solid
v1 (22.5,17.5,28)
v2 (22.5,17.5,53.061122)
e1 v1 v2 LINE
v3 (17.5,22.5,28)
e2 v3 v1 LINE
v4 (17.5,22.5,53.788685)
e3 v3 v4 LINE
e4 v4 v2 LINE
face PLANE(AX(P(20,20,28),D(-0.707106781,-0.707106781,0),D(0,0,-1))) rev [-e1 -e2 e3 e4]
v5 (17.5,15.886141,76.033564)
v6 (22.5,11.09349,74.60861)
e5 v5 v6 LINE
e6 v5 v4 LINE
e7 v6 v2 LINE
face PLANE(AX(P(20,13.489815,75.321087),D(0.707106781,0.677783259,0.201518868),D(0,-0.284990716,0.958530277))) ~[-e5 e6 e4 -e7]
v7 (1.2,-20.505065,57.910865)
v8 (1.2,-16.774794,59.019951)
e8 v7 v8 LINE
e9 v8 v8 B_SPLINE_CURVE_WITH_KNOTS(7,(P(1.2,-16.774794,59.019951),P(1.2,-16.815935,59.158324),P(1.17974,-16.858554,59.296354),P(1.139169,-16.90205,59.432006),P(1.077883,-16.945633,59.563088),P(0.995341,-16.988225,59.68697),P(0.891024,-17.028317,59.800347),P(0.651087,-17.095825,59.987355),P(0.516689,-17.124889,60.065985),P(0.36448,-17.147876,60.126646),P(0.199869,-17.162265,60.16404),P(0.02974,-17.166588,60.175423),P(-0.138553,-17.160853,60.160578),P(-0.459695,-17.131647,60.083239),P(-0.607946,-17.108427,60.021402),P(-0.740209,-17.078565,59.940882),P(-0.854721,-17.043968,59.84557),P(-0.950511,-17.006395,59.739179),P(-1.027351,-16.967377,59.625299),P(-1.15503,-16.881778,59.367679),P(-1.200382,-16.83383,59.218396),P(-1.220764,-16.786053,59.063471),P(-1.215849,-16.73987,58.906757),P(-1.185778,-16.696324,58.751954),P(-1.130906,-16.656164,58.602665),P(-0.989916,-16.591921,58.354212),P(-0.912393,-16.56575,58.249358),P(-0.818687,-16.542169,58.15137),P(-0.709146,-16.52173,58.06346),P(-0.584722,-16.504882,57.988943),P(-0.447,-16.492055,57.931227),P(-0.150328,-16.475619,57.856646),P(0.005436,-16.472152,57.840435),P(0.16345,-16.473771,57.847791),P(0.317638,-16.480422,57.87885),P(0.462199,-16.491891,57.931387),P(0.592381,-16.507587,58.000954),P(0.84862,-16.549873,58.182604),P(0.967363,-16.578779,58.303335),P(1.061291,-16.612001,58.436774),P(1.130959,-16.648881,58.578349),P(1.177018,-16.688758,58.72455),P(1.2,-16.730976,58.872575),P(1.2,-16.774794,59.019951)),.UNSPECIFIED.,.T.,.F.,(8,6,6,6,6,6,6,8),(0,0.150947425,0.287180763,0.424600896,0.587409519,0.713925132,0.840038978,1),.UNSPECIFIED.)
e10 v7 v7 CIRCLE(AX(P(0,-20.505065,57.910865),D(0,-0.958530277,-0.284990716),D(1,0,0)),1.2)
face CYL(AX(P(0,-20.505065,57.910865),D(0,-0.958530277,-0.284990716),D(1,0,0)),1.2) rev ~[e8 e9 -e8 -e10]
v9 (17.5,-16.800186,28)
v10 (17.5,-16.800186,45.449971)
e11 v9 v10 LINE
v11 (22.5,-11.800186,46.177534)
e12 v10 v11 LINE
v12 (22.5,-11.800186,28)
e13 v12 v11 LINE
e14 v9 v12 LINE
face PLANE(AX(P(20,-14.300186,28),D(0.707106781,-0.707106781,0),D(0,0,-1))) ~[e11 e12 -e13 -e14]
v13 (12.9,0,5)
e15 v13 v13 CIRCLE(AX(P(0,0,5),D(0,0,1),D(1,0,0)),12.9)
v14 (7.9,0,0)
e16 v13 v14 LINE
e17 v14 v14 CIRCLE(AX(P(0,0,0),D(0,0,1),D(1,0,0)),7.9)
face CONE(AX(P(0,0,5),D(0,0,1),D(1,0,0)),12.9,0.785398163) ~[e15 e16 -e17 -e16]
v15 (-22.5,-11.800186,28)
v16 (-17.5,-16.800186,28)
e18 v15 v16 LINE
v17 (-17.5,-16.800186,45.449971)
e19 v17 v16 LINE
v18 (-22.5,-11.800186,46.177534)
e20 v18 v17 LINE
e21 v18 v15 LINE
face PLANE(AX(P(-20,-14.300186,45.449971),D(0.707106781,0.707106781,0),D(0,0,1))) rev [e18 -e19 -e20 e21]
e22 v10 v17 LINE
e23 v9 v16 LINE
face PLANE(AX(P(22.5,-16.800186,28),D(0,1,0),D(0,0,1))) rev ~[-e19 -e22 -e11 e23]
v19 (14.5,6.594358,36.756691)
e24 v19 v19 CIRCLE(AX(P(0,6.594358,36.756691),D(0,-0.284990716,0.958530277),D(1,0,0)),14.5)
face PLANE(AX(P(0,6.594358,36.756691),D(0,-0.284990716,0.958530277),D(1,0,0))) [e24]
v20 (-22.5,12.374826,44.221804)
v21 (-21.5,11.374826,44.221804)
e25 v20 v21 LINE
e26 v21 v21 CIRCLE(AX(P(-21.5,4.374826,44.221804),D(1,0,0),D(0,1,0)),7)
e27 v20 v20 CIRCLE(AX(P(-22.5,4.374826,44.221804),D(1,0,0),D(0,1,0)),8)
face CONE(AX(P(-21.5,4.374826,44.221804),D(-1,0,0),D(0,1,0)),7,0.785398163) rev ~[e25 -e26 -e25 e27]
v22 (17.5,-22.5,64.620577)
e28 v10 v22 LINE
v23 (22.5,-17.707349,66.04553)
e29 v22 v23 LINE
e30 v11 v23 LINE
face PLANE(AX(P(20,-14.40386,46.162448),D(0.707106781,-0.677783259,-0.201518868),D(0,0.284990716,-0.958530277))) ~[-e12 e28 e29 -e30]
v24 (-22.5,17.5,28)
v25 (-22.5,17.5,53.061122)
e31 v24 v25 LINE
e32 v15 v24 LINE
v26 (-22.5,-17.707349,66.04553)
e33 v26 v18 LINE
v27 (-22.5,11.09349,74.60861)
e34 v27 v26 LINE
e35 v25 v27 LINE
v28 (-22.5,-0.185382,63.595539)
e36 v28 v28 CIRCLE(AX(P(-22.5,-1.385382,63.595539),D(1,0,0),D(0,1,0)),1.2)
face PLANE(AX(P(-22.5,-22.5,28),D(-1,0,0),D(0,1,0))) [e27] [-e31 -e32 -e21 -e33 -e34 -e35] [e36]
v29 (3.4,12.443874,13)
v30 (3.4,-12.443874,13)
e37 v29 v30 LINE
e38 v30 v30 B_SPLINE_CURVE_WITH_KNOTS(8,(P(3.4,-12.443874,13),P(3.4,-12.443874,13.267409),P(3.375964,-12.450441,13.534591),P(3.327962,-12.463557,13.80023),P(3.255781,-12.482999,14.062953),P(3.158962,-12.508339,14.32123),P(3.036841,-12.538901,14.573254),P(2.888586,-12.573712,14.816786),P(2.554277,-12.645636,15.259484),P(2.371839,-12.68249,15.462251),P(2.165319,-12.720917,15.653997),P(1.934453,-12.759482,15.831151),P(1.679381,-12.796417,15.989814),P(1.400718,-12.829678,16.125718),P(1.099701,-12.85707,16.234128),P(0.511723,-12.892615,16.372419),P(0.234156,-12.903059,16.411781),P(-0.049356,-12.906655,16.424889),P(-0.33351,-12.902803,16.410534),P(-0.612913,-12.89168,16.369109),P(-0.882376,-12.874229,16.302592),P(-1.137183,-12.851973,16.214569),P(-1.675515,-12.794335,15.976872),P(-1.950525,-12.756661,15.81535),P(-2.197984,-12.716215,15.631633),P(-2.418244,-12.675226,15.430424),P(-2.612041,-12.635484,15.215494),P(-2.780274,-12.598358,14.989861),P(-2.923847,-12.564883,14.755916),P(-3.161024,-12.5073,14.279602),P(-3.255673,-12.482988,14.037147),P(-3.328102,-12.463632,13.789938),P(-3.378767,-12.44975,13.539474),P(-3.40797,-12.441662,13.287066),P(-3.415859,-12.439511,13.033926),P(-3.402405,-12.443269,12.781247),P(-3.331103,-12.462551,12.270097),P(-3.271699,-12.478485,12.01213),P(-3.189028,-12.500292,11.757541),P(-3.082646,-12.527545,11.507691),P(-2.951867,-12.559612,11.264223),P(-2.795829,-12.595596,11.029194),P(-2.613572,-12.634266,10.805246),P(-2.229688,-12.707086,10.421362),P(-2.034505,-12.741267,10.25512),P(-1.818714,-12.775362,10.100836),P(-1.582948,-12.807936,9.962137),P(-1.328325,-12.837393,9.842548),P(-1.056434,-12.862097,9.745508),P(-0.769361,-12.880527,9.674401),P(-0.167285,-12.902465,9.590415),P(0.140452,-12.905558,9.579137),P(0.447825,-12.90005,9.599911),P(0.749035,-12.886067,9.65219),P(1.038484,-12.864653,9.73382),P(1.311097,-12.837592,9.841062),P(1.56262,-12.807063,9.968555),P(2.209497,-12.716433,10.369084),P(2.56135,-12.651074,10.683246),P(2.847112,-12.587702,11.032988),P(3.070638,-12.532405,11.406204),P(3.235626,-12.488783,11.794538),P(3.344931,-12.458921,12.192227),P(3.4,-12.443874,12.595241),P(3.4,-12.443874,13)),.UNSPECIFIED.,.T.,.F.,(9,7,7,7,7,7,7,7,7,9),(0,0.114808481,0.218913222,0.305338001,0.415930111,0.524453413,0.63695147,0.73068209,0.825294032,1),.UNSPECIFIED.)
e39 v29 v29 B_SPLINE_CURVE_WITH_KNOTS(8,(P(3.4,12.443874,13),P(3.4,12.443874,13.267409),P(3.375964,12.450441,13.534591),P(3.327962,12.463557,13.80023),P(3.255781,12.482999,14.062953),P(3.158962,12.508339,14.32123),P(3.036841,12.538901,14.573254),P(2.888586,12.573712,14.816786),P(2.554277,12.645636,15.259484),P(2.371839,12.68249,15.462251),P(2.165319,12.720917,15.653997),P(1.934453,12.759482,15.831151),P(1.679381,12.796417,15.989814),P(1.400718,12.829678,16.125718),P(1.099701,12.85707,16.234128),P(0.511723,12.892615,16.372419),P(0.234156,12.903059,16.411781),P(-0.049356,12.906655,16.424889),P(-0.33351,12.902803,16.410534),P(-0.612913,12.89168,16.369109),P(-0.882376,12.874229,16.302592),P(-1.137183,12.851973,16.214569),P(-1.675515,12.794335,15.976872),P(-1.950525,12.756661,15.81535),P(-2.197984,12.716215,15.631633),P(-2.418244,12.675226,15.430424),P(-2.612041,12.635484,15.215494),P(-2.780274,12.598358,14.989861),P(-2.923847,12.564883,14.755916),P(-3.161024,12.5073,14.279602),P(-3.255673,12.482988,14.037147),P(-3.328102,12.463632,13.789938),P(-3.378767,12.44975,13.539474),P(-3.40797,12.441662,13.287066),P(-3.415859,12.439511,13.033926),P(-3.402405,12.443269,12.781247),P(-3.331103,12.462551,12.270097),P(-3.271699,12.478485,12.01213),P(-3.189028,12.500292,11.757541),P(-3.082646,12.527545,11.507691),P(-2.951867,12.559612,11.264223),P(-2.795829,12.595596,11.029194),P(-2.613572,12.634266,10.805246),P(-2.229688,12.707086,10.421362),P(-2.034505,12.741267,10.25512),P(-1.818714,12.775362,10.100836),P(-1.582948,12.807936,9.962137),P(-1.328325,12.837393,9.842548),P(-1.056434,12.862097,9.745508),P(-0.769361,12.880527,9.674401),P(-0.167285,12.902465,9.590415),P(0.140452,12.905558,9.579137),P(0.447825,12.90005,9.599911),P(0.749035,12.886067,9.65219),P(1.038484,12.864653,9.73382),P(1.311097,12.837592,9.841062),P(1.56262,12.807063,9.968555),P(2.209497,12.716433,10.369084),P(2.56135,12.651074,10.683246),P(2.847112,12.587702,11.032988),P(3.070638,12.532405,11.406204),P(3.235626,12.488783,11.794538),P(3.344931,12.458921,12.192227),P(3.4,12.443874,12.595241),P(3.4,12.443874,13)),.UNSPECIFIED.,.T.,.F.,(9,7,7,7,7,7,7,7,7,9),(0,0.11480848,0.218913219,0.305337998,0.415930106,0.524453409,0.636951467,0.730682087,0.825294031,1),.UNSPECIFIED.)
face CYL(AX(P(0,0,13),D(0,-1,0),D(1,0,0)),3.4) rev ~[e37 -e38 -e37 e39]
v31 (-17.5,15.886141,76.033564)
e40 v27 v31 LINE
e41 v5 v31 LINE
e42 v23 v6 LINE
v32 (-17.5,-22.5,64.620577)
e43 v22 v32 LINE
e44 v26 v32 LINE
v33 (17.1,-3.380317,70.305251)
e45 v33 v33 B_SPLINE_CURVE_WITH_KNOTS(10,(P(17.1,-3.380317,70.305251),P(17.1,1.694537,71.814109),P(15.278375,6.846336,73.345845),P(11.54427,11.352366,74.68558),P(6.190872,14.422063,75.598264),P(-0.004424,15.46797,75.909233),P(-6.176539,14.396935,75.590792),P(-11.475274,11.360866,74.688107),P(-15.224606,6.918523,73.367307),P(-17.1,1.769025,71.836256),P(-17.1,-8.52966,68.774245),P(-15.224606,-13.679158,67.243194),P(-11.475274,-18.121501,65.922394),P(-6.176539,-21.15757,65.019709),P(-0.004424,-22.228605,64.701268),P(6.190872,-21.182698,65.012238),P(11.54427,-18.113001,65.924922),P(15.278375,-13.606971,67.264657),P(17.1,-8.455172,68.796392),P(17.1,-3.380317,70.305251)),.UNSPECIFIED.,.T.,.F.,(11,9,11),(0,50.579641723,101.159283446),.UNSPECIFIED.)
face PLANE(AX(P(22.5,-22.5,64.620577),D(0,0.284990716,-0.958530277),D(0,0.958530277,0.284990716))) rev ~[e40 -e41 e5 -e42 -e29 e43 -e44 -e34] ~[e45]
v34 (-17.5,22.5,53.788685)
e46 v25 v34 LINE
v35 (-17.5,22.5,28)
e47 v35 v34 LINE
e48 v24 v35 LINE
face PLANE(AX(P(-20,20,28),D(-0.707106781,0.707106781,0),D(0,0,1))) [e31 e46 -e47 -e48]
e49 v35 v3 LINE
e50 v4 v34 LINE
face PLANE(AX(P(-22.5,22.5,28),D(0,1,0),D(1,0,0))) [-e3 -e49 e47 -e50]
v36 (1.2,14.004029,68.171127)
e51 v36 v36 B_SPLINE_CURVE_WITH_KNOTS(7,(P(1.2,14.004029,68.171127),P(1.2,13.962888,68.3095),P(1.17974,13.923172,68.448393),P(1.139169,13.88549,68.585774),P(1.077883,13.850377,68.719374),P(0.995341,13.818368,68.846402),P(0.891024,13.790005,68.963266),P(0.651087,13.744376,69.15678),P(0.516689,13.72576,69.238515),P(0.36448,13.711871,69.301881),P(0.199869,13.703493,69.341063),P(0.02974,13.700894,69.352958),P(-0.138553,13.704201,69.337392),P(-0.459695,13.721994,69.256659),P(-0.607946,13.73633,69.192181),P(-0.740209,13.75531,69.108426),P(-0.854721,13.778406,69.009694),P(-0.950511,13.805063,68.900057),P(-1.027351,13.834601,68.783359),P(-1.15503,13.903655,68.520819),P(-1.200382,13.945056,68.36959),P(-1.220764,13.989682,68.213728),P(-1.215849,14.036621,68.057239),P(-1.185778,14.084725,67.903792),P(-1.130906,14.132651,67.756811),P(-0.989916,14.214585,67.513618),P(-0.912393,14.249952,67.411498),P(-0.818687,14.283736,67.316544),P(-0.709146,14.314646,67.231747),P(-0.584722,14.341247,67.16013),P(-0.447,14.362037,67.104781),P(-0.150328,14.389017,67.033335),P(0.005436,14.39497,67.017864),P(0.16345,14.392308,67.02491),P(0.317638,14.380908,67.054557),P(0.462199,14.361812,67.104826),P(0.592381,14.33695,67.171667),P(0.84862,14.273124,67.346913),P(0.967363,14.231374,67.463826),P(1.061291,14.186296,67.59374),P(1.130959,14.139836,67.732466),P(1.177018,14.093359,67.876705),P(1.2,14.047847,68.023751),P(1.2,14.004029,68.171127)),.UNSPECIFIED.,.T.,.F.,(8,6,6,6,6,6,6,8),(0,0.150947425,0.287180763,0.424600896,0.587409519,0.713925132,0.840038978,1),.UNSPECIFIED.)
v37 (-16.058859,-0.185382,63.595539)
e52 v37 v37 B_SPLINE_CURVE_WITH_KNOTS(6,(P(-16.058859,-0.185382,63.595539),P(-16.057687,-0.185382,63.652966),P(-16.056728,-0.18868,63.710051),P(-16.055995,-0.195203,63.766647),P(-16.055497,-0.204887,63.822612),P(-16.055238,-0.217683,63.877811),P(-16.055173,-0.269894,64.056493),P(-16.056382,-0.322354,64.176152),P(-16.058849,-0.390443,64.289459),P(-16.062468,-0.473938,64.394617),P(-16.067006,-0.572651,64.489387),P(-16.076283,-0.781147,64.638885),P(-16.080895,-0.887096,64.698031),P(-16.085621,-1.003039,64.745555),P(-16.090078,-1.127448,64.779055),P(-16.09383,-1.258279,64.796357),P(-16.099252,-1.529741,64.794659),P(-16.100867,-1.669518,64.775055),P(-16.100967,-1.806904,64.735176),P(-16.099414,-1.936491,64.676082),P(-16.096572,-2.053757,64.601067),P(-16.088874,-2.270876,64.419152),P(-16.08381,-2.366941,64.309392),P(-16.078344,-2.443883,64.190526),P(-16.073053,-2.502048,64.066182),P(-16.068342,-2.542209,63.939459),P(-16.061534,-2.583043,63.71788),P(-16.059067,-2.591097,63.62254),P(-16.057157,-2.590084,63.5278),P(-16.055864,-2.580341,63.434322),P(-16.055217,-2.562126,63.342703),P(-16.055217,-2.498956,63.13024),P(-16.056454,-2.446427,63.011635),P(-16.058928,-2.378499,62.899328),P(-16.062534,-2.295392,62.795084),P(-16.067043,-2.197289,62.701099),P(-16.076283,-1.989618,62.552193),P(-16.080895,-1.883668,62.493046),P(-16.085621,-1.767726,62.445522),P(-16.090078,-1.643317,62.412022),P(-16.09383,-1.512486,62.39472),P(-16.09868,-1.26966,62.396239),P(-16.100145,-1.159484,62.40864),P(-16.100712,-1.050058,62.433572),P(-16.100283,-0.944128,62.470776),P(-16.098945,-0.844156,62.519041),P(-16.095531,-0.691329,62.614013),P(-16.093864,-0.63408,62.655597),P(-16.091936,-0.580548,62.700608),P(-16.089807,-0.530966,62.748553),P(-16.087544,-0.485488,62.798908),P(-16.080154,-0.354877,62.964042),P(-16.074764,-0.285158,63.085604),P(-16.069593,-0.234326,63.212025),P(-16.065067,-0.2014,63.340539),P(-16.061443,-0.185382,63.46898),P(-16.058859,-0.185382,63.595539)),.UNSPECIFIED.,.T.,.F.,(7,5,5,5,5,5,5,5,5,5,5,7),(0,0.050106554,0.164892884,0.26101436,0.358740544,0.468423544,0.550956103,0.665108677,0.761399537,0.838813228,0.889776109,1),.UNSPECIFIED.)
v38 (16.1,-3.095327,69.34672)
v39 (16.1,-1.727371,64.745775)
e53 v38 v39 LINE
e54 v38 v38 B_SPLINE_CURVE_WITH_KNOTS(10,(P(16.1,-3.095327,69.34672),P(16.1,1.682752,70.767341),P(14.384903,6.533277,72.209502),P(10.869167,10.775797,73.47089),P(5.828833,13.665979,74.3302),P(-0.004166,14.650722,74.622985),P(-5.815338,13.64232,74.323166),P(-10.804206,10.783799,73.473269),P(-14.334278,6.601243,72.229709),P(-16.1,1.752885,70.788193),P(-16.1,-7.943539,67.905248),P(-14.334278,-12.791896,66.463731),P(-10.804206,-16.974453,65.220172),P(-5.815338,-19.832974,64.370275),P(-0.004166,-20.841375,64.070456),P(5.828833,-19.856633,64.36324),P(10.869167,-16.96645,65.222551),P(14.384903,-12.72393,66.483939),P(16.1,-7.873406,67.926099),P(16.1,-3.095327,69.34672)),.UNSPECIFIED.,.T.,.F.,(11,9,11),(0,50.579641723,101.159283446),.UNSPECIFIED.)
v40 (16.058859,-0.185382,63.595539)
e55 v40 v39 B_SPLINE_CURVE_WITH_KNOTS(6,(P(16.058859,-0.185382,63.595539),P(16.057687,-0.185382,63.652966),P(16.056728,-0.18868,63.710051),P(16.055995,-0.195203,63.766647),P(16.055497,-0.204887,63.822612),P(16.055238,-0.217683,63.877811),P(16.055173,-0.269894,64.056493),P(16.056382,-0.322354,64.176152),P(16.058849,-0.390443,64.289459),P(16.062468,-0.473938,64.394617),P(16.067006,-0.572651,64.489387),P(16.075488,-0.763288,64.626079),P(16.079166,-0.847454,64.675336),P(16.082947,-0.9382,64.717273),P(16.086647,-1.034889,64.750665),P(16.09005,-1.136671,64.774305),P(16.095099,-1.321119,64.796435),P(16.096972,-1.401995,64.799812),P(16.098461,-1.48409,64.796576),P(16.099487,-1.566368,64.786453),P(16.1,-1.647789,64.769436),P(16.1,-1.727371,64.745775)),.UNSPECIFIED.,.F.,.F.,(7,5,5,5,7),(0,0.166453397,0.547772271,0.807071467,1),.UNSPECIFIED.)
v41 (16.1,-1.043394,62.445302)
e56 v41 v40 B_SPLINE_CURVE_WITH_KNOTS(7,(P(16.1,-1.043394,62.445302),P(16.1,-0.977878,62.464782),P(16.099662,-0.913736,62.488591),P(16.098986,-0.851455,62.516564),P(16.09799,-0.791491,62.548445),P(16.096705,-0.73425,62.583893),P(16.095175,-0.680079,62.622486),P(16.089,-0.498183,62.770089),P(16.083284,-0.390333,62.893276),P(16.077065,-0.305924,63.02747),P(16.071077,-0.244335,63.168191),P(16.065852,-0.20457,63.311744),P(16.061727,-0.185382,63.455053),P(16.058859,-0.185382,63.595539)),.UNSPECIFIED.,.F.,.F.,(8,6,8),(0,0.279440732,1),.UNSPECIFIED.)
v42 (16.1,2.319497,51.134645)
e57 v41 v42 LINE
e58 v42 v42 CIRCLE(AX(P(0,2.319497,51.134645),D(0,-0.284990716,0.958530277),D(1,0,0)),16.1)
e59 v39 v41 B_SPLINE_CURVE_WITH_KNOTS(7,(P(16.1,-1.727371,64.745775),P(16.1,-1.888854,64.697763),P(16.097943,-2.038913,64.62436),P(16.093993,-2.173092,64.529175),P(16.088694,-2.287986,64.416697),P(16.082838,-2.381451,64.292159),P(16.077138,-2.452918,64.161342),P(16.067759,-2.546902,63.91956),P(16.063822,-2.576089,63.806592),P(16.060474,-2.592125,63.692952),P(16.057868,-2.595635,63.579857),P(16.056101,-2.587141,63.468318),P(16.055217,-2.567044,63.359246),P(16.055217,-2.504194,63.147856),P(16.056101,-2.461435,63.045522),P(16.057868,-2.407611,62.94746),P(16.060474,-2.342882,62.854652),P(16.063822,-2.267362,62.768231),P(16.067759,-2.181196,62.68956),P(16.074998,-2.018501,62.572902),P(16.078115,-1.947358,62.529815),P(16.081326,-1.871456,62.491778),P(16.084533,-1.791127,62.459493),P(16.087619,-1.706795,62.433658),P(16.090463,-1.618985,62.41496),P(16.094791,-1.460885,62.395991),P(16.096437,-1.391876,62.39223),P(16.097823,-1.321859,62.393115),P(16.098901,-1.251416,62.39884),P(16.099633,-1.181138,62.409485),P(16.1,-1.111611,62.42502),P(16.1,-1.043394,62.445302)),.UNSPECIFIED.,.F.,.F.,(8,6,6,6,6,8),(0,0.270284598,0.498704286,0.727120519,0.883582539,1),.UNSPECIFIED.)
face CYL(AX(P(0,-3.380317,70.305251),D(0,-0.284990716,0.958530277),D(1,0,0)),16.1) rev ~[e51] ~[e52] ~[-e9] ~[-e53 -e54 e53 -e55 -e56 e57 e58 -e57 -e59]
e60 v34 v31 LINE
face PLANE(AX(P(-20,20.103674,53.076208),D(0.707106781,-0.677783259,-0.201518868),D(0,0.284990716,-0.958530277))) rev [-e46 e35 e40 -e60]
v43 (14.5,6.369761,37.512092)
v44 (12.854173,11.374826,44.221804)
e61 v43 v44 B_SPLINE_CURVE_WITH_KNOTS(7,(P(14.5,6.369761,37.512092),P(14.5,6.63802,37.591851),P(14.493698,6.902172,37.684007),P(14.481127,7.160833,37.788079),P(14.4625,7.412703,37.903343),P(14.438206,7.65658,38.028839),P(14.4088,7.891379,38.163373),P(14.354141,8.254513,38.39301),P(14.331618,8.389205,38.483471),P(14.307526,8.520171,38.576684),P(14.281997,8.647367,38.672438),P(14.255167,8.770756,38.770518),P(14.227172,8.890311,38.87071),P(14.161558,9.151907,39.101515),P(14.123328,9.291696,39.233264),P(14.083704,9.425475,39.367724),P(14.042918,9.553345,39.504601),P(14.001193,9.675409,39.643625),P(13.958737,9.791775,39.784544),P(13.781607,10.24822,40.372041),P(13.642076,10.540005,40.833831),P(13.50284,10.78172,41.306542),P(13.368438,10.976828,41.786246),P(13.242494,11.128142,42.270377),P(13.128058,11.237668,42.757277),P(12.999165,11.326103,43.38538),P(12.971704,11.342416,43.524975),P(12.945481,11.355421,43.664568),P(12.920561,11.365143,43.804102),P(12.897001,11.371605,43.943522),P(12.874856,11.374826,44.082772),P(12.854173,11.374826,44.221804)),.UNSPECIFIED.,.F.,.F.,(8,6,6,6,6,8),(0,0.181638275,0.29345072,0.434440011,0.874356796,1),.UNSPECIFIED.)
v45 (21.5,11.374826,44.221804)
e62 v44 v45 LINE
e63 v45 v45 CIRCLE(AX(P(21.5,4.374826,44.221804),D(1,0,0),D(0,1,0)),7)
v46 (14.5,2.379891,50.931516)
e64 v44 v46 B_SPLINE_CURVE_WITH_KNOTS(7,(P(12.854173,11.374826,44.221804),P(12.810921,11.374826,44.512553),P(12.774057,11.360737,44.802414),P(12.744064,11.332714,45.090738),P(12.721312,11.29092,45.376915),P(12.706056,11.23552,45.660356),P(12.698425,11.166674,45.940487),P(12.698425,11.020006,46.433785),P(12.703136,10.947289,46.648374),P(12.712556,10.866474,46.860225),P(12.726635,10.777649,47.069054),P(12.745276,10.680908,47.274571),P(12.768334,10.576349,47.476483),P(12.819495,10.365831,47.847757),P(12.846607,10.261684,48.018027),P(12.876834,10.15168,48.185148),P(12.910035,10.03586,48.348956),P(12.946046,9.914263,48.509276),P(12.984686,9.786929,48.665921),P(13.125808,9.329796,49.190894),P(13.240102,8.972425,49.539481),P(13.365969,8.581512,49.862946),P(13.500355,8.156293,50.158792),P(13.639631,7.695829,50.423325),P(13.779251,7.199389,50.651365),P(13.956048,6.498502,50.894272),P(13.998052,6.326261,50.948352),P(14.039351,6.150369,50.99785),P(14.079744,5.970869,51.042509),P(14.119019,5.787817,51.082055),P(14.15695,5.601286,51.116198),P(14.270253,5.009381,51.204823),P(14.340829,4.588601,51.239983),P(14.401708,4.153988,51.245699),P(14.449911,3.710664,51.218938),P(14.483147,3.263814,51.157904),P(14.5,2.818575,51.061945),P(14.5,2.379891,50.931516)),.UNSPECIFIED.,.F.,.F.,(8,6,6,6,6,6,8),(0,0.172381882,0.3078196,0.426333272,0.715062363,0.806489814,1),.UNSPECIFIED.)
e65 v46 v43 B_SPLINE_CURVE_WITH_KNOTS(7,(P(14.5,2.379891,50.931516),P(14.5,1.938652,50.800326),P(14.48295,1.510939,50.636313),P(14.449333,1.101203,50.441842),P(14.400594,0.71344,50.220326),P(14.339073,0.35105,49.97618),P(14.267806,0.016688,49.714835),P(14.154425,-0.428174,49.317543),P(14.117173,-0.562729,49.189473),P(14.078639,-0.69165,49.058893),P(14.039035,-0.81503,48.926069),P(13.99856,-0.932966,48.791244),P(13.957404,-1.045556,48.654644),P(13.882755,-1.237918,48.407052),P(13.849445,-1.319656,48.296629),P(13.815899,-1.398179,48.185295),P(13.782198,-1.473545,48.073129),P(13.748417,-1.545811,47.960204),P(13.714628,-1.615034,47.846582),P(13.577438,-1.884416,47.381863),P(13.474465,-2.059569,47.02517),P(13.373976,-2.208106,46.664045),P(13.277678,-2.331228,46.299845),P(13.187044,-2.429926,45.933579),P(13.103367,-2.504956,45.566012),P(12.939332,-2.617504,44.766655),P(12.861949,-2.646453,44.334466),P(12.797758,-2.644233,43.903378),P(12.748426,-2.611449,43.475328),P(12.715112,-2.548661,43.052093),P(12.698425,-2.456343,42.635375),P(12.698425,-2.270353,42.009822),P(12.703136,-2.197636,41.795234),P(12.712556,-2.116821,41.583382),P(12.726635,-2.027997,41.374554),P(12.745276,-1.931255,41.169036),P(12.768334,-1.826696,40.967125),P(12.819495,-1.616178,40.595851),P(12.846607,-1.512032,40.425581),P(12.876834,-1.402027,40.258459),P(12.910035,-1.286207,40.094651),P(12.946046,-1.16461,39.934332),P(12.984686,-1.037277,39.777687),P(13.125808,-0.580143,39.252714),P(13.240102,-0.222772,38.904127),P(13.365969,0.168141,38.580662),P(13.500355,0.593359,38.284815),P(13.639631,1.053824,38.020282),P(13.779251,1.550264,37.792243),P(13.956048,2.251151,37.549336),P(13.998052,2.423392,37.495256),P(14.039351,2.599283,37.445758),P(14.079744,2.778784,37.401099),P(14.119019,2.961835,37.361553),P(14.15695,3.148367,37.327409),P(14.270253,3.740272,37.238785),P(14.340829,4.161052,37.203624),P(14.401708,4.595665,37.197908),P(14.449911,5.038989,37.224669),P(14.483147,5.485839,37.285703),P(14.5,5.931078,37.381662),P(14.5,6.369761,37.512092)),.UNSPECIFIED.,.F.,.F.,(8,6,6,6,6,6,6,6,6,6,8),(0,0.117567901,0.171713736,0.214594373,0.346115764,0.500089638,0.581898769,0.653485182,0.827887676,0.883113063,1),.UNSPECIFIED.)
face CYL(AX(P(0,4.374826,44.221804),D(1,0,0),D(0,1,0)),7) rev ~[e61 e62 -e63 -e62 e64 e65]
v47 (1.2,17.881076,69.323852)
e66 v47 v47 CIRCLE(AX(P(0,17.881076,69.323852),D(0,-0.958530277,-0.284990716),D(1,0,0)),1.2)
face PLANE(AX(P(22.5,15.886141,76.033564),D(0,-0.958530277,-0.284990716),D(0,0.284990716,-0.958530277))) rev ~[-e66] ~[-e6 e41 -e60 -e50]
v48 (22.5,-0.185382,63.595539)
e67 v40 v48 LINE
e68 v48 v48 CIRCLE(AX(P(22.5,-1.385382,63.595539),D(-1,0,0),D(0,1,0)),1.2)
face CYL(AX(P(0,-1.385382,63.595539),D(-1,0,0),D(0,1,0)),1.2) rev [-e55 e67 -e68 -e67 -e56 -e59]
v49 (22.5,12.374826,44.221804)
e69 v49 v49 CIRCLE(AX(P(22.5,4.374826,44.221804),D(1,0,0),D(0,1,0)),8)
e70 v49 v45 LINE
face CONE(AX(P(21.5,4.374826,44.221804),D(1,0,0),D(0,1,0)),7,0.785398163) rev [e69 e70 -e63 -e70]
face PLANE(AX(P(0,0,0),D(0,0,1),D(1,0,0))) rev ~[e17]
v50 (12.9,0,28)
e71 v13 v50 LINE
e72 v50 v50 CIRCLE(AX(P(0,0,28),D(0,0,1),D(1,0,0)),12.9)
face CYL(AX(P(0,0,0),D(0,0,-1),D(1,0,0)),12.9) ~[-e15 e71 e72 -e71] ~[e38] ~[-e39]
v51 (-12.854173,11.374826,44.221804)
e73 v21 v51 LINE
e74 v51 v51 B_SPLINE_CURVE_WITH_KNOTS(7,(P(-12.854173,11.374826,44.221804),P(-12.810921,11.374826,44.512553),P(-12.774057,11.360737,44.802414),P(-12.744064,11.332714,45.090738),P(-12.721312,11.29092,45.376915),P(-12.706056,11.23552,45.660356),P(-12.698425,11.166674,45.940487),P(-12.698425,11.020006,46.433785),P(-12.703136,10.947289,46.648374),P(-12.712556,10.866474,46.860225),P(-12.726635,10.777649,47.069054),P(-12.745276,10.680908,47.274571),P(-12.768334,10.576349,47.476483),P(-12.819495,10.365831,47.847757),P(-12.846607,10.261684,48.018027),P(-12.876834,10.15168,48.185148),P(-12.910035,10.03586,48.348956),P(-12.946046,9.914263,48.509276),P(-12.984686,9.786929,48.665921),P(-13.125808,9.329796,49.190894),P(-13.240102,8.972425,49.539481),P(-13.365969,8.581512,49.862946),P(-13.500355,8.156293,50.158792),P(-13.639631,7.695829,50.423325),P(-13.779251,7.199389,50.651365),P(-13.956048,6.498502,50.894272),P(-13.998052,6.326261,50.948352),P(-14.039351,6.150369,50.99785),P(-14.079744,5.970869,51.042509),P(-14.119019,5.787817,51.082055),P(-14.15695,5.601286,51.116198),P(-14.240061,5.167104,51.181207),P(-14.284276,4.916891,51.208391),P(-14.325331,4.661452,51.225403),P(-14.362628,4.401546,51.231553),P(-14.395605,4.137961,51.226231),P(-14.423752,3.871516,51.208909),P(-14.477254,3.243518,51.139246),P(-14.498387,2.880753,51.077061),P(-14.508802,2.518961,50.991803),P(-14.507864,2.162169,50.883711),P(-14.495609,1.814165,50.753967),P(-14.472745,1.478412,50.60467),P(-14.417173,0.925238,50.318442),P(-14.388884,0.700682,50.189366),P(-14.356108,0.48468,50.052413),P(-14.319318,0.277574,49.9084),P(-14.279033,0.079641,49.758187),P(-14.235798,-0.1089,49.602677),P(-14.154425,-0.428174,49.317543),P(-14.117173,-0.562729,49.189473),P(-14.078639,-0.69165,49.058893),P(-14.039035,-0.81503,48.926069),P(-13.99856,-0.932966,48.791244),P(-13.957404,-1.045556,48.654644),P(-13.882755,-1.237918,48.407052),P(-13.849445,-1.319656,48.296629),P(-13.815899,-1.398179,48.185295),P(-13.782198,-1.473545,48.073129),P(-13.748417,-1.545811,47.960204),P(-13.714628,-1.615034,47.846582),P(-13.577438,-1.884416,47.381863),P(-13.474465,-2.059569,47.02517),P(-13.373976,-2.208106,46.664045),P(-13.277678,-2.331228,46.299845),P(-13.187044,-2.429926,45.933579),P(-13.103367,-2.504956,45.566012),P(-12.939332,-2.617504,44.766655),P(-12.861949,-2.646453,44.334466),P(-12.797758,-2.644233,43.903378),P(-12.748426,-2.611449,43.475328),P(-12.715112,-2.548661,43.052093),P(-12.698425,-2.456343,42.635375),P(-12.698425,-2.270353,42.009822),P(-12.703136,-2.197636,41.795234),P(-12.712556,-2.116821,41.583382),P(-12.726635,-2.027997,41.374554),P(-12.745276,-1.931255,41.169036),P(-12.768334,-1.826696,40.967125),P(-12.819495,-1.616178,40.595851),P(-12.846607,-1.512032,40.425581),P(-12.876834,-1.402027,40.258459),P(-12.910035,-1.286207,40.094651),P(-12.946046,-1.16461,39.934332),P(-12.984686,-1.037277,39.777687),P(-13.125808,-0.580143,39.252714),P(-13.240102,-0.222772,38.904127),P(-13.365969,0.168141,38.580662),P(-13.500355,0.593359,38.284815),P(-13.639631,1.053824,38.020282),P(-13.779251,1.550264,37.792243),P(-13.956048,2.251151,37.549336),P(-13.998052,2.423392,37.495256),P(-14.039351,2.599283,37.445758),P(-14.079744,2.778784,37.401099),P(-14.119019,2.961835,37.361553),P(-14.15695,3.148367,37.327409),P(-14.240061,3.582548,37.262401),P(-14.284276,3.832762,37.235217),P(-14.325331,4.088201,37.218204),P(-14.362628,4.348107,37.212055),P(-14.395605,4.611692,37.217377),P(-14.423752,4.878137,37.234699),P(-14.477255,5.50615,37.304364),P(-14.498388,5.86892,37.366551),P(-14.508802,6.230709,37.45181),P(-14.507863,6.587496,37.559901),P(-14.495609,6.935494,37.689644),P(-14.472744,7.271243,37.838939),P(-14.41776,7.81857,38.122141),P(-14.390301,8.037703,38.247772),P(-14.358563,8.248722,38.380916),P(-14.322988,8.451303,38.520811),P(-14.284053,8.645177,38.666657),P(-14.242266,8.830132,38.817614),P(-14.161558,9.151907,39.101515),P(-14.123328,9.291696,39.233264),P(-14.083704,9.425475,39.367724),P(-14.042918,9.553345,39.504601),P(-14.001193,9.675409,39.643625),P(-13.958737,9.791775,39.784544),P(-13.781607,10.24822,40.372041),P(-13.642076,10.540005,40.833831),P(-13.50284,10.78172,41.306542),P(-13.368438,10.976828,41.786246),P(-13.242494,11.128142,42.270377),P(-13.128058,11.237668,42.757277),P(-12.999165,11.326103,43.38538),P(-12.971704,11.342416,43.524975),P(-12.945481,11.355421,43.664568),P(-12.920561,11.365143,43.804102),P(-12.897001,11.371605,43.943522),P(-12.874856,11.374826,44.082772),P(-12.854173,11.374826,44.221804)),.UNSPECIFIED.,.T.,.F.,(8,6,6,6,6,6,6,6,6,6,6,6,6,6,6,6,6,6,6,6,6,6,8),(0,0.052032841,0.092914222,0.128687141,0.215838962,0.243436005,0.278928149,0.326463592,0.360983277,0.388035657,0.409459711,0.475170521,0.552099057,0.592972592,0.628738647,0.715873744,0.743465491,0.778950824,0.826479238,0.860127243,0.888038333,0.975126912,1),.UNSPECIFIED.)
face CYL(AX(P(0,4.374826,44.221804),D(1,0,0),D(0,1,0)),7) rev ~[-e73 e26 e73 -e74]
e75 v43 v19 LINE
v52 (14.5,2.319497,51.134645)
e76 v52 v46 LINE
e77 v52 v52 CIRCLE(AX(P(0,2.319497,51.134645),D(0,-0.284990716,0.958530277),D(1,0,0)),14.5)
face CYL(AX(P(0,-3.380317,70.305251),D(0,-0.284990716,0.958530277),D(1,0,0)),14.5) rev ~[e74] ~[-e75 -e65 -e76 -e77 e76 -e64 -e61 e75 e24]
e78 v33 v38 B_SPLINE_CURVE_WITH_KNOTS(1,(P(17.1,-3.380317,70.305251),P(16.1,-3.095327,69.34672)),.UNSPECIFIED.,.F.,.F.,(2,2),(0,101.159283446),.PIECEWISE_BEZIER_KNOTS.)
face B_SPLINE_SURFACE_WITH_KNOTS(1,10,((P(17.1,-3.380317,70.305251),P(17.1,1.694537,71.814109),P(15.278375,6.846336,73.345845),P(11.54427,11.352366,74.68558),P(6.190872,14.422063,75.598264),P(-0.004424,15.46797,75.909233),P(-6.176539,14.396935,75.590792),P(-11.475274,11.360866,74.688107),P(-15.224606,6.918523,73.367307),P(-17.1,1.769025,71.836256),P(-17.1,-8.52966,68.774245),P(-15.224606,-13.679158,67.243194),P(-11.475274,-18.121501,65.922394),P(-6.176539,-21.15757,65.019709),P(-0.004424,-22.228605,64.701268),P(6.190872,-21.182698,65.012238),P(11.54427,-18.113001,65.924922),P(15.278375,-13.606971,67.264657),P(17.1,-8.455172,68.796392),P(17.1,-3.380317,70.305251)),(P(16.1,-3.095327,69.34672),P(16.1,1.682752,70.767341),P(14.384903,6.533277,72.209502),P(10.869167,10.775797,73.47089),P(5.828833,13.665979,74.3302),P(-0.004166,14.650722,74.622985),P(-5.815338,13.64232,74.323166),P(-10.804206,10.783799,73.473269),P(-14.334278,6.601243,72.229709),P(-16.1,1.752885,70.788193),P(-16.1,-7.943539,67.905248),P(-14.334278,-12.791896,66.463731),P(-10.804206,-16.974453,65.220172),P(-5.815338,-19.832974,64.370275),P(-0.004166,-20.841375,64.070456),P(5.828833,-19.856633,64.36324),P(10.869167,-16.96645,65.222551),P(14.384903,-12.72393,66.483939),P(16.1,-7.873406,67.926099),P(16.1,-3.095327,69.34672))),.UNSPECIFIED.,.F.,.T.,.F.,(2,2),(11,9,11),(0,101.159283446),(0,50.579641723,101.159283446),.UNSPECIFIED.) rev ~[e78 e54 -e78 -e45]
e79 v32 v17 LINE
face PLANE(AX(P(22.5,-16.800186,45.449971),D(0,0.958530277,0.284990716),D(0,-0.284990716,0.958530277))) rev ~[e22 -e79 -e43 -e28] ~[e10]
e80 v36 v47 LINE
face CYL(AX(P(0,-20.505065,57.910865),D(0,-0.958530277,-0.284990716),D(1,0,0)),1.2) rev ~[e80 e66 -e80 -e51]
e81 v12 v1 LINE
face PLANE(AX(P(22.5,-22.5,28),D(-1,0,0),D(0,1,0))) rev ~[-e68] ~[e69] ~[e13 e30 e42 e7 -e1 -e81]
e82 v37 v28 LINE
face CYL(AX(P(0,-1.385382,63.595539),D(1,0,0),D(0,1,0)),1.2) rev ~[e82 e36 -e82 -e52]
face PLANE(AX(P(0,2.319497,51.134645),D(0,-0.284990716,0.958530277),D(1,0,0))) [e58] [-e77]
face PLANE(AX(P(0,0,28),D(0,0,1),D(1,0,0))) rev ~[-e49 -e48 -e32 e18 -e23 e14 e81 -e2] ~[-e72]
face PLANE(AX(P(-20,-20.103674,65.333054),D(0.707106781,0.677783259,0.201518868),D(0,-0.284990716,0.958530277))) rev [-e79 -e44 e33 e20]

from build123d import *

# Parameters (mm, degrees)
F0_R      = 12.9
F1_DEPTH  = 28
F2_W      = 45
F2_H      = 45
F3_DEPTH  = 50
F5_DEPTH  = 45.001
F6_R      = 14.5
F7_DEPTH  = 35
F8_R      = 16.1
F9_DEPTH  = 20
F10_R     = 3.4
F11_DEPTH = 32.8
F12_R     = 1.2
F12_R_2   = 7
F13_DEPTH = 65.2
F15_DEPTH = 45.0010001
F16_R     = 1.2
F17_DEPTH = 46.3874578725
F18_SIZE  = 5
F19_SIZE  = 1


with BuildPart() as f1:
    # F0 (on Top) → F1 (new body)
    with BuildSketch(Plane.XY):
        Circle(F0_R)
    extrude(amount=F1_DEPTH)

    # F2 (on face) → F3 (join)
    with BuildSketch(Plane.XY.offset(28)):
        Rectangle(F2_W, F2_H)
    extrude(amount=F3_DEPTH)

    # F4 (on face) → F5 (cut, through all)
    with BuildSketch(Plane.YZ.offset(22.5)):
        Polygon((-22.5, 78), (-22.5, 64.6205767989), (22.5, 78), align=None)
    extrude(amount=-F5_DEPTH, mode=Mode.SUBTRACT)

    # F6 (on face) → F7 (cut)
    with BuildSketch(Plane(origin=(0, -19.4799905068, 65.5184875785), x_dir=(1, 0, 0), z_dir=(0, -0.2849907161, 0.9585302769))):
        with Locations((0, 16.7962070879)):
            Circle(F6_R)
    extrude(amount=-F7_DEPTH, mode=Mode.SUBTRACT)

    # F8 (on face) → F9 (cut)
    with BuildSketch(Plane(origin=(0, -19.4799905068, 65.5184875785), x_dir=(1, 0, 0), z_dir=(0, -0.2849907161, 0.9585302769))):
        with Locations((0, 16.7962070879)):
            Circle(F8_R)
    extrude(amount=-F9_DEPTH, mode=Mode.SUBTRACT)

    # F10 (on Front) → F11 (cut, symmetric)
    with BuildSketch(Plane.XZ):
        with Locations((0, 13)):
            Circle(F10_R)
    extrude(amount=F11_DEPTH, both=True, mode=Mode.SUBTRACT)

    # F12 (on Right) → F13 (cut, symmetric)
    with BuildSketch(Plane.YZ):
        with Locations((-1.3853824633, 63.5955387264)):
            Circle(F12_R)
        with Locations((4.3748263706, 44.2218038779)):
            Circle(F12_R_2)
    extrude(amount=F13_DEPTH, both=True, mode=Mode.SUBTRACT)

    # F14 (on face) → F15 (cut, through all)
    with BuildSketch(Plane.YZ.offset(22.5)):
        Polygon((-16.8001856775, 45.449971261), (-22.5, 64.6205767989), (-22.5, 43.755299528), align=None)
        Polygon((-16.8001856775, 28), (-16.8001856775, 45.449971261), (-22.5, 43.755299528), (-22.5, 28), align=None)
        Polygon((22.5, 78), (15.8861410894, 76.0335640587), (22.5, 53.7886850006), align=None)
    extrude(amount=-F15_DEPTH, mode=Mode.SUBTRACT)

    # F16 (on face) → F17 (cut, through all)
    with BuildSketch(Plane(origin=(0, -3.0200094932, -0.8979107796), x_dir=(1, 0, 0), z_dir=(0, -0.9585302769, -0.2849907161))):
        with Locations((0, 61.3530704849)):
            Circle(F16_R)
    extrude(amount=-F17_DEPTH, mode=Mode.SUBTRACT)

    # F18
    f18_edges = [f1.edges().sort_by_distance(p)[0] for p in [
        (22.5, -19.650093, 55.035274),
        (22.5, -16.800186, 36.724986),
        (22.5, 19.193071, 64.911125),
        (22.5, 22.5, 40.894343),
        (-22.5, 22.5, 40.894343),
        (-22.5, 19.193071, 64.911125),
        (-22.5, -19.650093, 55.035274),
        (-22.5, -16.800186, 36.724986),
        (-12.9, 0, 0),
    ]]
    chamfer(f18_edges, length=F18_SIZE)

    # F19
    f19_edges = [f1.edges().sort_by_distance(p)[0] for p in [
        (-16.1, -3.380317, 70.305251),
        (22.5, -2.625174, 44.221804),
        (-22.5, -2.625174, 44.221804),
    ]]
    chamfer(f19_edges, length=F19_SIZE)


solid = f1.part
